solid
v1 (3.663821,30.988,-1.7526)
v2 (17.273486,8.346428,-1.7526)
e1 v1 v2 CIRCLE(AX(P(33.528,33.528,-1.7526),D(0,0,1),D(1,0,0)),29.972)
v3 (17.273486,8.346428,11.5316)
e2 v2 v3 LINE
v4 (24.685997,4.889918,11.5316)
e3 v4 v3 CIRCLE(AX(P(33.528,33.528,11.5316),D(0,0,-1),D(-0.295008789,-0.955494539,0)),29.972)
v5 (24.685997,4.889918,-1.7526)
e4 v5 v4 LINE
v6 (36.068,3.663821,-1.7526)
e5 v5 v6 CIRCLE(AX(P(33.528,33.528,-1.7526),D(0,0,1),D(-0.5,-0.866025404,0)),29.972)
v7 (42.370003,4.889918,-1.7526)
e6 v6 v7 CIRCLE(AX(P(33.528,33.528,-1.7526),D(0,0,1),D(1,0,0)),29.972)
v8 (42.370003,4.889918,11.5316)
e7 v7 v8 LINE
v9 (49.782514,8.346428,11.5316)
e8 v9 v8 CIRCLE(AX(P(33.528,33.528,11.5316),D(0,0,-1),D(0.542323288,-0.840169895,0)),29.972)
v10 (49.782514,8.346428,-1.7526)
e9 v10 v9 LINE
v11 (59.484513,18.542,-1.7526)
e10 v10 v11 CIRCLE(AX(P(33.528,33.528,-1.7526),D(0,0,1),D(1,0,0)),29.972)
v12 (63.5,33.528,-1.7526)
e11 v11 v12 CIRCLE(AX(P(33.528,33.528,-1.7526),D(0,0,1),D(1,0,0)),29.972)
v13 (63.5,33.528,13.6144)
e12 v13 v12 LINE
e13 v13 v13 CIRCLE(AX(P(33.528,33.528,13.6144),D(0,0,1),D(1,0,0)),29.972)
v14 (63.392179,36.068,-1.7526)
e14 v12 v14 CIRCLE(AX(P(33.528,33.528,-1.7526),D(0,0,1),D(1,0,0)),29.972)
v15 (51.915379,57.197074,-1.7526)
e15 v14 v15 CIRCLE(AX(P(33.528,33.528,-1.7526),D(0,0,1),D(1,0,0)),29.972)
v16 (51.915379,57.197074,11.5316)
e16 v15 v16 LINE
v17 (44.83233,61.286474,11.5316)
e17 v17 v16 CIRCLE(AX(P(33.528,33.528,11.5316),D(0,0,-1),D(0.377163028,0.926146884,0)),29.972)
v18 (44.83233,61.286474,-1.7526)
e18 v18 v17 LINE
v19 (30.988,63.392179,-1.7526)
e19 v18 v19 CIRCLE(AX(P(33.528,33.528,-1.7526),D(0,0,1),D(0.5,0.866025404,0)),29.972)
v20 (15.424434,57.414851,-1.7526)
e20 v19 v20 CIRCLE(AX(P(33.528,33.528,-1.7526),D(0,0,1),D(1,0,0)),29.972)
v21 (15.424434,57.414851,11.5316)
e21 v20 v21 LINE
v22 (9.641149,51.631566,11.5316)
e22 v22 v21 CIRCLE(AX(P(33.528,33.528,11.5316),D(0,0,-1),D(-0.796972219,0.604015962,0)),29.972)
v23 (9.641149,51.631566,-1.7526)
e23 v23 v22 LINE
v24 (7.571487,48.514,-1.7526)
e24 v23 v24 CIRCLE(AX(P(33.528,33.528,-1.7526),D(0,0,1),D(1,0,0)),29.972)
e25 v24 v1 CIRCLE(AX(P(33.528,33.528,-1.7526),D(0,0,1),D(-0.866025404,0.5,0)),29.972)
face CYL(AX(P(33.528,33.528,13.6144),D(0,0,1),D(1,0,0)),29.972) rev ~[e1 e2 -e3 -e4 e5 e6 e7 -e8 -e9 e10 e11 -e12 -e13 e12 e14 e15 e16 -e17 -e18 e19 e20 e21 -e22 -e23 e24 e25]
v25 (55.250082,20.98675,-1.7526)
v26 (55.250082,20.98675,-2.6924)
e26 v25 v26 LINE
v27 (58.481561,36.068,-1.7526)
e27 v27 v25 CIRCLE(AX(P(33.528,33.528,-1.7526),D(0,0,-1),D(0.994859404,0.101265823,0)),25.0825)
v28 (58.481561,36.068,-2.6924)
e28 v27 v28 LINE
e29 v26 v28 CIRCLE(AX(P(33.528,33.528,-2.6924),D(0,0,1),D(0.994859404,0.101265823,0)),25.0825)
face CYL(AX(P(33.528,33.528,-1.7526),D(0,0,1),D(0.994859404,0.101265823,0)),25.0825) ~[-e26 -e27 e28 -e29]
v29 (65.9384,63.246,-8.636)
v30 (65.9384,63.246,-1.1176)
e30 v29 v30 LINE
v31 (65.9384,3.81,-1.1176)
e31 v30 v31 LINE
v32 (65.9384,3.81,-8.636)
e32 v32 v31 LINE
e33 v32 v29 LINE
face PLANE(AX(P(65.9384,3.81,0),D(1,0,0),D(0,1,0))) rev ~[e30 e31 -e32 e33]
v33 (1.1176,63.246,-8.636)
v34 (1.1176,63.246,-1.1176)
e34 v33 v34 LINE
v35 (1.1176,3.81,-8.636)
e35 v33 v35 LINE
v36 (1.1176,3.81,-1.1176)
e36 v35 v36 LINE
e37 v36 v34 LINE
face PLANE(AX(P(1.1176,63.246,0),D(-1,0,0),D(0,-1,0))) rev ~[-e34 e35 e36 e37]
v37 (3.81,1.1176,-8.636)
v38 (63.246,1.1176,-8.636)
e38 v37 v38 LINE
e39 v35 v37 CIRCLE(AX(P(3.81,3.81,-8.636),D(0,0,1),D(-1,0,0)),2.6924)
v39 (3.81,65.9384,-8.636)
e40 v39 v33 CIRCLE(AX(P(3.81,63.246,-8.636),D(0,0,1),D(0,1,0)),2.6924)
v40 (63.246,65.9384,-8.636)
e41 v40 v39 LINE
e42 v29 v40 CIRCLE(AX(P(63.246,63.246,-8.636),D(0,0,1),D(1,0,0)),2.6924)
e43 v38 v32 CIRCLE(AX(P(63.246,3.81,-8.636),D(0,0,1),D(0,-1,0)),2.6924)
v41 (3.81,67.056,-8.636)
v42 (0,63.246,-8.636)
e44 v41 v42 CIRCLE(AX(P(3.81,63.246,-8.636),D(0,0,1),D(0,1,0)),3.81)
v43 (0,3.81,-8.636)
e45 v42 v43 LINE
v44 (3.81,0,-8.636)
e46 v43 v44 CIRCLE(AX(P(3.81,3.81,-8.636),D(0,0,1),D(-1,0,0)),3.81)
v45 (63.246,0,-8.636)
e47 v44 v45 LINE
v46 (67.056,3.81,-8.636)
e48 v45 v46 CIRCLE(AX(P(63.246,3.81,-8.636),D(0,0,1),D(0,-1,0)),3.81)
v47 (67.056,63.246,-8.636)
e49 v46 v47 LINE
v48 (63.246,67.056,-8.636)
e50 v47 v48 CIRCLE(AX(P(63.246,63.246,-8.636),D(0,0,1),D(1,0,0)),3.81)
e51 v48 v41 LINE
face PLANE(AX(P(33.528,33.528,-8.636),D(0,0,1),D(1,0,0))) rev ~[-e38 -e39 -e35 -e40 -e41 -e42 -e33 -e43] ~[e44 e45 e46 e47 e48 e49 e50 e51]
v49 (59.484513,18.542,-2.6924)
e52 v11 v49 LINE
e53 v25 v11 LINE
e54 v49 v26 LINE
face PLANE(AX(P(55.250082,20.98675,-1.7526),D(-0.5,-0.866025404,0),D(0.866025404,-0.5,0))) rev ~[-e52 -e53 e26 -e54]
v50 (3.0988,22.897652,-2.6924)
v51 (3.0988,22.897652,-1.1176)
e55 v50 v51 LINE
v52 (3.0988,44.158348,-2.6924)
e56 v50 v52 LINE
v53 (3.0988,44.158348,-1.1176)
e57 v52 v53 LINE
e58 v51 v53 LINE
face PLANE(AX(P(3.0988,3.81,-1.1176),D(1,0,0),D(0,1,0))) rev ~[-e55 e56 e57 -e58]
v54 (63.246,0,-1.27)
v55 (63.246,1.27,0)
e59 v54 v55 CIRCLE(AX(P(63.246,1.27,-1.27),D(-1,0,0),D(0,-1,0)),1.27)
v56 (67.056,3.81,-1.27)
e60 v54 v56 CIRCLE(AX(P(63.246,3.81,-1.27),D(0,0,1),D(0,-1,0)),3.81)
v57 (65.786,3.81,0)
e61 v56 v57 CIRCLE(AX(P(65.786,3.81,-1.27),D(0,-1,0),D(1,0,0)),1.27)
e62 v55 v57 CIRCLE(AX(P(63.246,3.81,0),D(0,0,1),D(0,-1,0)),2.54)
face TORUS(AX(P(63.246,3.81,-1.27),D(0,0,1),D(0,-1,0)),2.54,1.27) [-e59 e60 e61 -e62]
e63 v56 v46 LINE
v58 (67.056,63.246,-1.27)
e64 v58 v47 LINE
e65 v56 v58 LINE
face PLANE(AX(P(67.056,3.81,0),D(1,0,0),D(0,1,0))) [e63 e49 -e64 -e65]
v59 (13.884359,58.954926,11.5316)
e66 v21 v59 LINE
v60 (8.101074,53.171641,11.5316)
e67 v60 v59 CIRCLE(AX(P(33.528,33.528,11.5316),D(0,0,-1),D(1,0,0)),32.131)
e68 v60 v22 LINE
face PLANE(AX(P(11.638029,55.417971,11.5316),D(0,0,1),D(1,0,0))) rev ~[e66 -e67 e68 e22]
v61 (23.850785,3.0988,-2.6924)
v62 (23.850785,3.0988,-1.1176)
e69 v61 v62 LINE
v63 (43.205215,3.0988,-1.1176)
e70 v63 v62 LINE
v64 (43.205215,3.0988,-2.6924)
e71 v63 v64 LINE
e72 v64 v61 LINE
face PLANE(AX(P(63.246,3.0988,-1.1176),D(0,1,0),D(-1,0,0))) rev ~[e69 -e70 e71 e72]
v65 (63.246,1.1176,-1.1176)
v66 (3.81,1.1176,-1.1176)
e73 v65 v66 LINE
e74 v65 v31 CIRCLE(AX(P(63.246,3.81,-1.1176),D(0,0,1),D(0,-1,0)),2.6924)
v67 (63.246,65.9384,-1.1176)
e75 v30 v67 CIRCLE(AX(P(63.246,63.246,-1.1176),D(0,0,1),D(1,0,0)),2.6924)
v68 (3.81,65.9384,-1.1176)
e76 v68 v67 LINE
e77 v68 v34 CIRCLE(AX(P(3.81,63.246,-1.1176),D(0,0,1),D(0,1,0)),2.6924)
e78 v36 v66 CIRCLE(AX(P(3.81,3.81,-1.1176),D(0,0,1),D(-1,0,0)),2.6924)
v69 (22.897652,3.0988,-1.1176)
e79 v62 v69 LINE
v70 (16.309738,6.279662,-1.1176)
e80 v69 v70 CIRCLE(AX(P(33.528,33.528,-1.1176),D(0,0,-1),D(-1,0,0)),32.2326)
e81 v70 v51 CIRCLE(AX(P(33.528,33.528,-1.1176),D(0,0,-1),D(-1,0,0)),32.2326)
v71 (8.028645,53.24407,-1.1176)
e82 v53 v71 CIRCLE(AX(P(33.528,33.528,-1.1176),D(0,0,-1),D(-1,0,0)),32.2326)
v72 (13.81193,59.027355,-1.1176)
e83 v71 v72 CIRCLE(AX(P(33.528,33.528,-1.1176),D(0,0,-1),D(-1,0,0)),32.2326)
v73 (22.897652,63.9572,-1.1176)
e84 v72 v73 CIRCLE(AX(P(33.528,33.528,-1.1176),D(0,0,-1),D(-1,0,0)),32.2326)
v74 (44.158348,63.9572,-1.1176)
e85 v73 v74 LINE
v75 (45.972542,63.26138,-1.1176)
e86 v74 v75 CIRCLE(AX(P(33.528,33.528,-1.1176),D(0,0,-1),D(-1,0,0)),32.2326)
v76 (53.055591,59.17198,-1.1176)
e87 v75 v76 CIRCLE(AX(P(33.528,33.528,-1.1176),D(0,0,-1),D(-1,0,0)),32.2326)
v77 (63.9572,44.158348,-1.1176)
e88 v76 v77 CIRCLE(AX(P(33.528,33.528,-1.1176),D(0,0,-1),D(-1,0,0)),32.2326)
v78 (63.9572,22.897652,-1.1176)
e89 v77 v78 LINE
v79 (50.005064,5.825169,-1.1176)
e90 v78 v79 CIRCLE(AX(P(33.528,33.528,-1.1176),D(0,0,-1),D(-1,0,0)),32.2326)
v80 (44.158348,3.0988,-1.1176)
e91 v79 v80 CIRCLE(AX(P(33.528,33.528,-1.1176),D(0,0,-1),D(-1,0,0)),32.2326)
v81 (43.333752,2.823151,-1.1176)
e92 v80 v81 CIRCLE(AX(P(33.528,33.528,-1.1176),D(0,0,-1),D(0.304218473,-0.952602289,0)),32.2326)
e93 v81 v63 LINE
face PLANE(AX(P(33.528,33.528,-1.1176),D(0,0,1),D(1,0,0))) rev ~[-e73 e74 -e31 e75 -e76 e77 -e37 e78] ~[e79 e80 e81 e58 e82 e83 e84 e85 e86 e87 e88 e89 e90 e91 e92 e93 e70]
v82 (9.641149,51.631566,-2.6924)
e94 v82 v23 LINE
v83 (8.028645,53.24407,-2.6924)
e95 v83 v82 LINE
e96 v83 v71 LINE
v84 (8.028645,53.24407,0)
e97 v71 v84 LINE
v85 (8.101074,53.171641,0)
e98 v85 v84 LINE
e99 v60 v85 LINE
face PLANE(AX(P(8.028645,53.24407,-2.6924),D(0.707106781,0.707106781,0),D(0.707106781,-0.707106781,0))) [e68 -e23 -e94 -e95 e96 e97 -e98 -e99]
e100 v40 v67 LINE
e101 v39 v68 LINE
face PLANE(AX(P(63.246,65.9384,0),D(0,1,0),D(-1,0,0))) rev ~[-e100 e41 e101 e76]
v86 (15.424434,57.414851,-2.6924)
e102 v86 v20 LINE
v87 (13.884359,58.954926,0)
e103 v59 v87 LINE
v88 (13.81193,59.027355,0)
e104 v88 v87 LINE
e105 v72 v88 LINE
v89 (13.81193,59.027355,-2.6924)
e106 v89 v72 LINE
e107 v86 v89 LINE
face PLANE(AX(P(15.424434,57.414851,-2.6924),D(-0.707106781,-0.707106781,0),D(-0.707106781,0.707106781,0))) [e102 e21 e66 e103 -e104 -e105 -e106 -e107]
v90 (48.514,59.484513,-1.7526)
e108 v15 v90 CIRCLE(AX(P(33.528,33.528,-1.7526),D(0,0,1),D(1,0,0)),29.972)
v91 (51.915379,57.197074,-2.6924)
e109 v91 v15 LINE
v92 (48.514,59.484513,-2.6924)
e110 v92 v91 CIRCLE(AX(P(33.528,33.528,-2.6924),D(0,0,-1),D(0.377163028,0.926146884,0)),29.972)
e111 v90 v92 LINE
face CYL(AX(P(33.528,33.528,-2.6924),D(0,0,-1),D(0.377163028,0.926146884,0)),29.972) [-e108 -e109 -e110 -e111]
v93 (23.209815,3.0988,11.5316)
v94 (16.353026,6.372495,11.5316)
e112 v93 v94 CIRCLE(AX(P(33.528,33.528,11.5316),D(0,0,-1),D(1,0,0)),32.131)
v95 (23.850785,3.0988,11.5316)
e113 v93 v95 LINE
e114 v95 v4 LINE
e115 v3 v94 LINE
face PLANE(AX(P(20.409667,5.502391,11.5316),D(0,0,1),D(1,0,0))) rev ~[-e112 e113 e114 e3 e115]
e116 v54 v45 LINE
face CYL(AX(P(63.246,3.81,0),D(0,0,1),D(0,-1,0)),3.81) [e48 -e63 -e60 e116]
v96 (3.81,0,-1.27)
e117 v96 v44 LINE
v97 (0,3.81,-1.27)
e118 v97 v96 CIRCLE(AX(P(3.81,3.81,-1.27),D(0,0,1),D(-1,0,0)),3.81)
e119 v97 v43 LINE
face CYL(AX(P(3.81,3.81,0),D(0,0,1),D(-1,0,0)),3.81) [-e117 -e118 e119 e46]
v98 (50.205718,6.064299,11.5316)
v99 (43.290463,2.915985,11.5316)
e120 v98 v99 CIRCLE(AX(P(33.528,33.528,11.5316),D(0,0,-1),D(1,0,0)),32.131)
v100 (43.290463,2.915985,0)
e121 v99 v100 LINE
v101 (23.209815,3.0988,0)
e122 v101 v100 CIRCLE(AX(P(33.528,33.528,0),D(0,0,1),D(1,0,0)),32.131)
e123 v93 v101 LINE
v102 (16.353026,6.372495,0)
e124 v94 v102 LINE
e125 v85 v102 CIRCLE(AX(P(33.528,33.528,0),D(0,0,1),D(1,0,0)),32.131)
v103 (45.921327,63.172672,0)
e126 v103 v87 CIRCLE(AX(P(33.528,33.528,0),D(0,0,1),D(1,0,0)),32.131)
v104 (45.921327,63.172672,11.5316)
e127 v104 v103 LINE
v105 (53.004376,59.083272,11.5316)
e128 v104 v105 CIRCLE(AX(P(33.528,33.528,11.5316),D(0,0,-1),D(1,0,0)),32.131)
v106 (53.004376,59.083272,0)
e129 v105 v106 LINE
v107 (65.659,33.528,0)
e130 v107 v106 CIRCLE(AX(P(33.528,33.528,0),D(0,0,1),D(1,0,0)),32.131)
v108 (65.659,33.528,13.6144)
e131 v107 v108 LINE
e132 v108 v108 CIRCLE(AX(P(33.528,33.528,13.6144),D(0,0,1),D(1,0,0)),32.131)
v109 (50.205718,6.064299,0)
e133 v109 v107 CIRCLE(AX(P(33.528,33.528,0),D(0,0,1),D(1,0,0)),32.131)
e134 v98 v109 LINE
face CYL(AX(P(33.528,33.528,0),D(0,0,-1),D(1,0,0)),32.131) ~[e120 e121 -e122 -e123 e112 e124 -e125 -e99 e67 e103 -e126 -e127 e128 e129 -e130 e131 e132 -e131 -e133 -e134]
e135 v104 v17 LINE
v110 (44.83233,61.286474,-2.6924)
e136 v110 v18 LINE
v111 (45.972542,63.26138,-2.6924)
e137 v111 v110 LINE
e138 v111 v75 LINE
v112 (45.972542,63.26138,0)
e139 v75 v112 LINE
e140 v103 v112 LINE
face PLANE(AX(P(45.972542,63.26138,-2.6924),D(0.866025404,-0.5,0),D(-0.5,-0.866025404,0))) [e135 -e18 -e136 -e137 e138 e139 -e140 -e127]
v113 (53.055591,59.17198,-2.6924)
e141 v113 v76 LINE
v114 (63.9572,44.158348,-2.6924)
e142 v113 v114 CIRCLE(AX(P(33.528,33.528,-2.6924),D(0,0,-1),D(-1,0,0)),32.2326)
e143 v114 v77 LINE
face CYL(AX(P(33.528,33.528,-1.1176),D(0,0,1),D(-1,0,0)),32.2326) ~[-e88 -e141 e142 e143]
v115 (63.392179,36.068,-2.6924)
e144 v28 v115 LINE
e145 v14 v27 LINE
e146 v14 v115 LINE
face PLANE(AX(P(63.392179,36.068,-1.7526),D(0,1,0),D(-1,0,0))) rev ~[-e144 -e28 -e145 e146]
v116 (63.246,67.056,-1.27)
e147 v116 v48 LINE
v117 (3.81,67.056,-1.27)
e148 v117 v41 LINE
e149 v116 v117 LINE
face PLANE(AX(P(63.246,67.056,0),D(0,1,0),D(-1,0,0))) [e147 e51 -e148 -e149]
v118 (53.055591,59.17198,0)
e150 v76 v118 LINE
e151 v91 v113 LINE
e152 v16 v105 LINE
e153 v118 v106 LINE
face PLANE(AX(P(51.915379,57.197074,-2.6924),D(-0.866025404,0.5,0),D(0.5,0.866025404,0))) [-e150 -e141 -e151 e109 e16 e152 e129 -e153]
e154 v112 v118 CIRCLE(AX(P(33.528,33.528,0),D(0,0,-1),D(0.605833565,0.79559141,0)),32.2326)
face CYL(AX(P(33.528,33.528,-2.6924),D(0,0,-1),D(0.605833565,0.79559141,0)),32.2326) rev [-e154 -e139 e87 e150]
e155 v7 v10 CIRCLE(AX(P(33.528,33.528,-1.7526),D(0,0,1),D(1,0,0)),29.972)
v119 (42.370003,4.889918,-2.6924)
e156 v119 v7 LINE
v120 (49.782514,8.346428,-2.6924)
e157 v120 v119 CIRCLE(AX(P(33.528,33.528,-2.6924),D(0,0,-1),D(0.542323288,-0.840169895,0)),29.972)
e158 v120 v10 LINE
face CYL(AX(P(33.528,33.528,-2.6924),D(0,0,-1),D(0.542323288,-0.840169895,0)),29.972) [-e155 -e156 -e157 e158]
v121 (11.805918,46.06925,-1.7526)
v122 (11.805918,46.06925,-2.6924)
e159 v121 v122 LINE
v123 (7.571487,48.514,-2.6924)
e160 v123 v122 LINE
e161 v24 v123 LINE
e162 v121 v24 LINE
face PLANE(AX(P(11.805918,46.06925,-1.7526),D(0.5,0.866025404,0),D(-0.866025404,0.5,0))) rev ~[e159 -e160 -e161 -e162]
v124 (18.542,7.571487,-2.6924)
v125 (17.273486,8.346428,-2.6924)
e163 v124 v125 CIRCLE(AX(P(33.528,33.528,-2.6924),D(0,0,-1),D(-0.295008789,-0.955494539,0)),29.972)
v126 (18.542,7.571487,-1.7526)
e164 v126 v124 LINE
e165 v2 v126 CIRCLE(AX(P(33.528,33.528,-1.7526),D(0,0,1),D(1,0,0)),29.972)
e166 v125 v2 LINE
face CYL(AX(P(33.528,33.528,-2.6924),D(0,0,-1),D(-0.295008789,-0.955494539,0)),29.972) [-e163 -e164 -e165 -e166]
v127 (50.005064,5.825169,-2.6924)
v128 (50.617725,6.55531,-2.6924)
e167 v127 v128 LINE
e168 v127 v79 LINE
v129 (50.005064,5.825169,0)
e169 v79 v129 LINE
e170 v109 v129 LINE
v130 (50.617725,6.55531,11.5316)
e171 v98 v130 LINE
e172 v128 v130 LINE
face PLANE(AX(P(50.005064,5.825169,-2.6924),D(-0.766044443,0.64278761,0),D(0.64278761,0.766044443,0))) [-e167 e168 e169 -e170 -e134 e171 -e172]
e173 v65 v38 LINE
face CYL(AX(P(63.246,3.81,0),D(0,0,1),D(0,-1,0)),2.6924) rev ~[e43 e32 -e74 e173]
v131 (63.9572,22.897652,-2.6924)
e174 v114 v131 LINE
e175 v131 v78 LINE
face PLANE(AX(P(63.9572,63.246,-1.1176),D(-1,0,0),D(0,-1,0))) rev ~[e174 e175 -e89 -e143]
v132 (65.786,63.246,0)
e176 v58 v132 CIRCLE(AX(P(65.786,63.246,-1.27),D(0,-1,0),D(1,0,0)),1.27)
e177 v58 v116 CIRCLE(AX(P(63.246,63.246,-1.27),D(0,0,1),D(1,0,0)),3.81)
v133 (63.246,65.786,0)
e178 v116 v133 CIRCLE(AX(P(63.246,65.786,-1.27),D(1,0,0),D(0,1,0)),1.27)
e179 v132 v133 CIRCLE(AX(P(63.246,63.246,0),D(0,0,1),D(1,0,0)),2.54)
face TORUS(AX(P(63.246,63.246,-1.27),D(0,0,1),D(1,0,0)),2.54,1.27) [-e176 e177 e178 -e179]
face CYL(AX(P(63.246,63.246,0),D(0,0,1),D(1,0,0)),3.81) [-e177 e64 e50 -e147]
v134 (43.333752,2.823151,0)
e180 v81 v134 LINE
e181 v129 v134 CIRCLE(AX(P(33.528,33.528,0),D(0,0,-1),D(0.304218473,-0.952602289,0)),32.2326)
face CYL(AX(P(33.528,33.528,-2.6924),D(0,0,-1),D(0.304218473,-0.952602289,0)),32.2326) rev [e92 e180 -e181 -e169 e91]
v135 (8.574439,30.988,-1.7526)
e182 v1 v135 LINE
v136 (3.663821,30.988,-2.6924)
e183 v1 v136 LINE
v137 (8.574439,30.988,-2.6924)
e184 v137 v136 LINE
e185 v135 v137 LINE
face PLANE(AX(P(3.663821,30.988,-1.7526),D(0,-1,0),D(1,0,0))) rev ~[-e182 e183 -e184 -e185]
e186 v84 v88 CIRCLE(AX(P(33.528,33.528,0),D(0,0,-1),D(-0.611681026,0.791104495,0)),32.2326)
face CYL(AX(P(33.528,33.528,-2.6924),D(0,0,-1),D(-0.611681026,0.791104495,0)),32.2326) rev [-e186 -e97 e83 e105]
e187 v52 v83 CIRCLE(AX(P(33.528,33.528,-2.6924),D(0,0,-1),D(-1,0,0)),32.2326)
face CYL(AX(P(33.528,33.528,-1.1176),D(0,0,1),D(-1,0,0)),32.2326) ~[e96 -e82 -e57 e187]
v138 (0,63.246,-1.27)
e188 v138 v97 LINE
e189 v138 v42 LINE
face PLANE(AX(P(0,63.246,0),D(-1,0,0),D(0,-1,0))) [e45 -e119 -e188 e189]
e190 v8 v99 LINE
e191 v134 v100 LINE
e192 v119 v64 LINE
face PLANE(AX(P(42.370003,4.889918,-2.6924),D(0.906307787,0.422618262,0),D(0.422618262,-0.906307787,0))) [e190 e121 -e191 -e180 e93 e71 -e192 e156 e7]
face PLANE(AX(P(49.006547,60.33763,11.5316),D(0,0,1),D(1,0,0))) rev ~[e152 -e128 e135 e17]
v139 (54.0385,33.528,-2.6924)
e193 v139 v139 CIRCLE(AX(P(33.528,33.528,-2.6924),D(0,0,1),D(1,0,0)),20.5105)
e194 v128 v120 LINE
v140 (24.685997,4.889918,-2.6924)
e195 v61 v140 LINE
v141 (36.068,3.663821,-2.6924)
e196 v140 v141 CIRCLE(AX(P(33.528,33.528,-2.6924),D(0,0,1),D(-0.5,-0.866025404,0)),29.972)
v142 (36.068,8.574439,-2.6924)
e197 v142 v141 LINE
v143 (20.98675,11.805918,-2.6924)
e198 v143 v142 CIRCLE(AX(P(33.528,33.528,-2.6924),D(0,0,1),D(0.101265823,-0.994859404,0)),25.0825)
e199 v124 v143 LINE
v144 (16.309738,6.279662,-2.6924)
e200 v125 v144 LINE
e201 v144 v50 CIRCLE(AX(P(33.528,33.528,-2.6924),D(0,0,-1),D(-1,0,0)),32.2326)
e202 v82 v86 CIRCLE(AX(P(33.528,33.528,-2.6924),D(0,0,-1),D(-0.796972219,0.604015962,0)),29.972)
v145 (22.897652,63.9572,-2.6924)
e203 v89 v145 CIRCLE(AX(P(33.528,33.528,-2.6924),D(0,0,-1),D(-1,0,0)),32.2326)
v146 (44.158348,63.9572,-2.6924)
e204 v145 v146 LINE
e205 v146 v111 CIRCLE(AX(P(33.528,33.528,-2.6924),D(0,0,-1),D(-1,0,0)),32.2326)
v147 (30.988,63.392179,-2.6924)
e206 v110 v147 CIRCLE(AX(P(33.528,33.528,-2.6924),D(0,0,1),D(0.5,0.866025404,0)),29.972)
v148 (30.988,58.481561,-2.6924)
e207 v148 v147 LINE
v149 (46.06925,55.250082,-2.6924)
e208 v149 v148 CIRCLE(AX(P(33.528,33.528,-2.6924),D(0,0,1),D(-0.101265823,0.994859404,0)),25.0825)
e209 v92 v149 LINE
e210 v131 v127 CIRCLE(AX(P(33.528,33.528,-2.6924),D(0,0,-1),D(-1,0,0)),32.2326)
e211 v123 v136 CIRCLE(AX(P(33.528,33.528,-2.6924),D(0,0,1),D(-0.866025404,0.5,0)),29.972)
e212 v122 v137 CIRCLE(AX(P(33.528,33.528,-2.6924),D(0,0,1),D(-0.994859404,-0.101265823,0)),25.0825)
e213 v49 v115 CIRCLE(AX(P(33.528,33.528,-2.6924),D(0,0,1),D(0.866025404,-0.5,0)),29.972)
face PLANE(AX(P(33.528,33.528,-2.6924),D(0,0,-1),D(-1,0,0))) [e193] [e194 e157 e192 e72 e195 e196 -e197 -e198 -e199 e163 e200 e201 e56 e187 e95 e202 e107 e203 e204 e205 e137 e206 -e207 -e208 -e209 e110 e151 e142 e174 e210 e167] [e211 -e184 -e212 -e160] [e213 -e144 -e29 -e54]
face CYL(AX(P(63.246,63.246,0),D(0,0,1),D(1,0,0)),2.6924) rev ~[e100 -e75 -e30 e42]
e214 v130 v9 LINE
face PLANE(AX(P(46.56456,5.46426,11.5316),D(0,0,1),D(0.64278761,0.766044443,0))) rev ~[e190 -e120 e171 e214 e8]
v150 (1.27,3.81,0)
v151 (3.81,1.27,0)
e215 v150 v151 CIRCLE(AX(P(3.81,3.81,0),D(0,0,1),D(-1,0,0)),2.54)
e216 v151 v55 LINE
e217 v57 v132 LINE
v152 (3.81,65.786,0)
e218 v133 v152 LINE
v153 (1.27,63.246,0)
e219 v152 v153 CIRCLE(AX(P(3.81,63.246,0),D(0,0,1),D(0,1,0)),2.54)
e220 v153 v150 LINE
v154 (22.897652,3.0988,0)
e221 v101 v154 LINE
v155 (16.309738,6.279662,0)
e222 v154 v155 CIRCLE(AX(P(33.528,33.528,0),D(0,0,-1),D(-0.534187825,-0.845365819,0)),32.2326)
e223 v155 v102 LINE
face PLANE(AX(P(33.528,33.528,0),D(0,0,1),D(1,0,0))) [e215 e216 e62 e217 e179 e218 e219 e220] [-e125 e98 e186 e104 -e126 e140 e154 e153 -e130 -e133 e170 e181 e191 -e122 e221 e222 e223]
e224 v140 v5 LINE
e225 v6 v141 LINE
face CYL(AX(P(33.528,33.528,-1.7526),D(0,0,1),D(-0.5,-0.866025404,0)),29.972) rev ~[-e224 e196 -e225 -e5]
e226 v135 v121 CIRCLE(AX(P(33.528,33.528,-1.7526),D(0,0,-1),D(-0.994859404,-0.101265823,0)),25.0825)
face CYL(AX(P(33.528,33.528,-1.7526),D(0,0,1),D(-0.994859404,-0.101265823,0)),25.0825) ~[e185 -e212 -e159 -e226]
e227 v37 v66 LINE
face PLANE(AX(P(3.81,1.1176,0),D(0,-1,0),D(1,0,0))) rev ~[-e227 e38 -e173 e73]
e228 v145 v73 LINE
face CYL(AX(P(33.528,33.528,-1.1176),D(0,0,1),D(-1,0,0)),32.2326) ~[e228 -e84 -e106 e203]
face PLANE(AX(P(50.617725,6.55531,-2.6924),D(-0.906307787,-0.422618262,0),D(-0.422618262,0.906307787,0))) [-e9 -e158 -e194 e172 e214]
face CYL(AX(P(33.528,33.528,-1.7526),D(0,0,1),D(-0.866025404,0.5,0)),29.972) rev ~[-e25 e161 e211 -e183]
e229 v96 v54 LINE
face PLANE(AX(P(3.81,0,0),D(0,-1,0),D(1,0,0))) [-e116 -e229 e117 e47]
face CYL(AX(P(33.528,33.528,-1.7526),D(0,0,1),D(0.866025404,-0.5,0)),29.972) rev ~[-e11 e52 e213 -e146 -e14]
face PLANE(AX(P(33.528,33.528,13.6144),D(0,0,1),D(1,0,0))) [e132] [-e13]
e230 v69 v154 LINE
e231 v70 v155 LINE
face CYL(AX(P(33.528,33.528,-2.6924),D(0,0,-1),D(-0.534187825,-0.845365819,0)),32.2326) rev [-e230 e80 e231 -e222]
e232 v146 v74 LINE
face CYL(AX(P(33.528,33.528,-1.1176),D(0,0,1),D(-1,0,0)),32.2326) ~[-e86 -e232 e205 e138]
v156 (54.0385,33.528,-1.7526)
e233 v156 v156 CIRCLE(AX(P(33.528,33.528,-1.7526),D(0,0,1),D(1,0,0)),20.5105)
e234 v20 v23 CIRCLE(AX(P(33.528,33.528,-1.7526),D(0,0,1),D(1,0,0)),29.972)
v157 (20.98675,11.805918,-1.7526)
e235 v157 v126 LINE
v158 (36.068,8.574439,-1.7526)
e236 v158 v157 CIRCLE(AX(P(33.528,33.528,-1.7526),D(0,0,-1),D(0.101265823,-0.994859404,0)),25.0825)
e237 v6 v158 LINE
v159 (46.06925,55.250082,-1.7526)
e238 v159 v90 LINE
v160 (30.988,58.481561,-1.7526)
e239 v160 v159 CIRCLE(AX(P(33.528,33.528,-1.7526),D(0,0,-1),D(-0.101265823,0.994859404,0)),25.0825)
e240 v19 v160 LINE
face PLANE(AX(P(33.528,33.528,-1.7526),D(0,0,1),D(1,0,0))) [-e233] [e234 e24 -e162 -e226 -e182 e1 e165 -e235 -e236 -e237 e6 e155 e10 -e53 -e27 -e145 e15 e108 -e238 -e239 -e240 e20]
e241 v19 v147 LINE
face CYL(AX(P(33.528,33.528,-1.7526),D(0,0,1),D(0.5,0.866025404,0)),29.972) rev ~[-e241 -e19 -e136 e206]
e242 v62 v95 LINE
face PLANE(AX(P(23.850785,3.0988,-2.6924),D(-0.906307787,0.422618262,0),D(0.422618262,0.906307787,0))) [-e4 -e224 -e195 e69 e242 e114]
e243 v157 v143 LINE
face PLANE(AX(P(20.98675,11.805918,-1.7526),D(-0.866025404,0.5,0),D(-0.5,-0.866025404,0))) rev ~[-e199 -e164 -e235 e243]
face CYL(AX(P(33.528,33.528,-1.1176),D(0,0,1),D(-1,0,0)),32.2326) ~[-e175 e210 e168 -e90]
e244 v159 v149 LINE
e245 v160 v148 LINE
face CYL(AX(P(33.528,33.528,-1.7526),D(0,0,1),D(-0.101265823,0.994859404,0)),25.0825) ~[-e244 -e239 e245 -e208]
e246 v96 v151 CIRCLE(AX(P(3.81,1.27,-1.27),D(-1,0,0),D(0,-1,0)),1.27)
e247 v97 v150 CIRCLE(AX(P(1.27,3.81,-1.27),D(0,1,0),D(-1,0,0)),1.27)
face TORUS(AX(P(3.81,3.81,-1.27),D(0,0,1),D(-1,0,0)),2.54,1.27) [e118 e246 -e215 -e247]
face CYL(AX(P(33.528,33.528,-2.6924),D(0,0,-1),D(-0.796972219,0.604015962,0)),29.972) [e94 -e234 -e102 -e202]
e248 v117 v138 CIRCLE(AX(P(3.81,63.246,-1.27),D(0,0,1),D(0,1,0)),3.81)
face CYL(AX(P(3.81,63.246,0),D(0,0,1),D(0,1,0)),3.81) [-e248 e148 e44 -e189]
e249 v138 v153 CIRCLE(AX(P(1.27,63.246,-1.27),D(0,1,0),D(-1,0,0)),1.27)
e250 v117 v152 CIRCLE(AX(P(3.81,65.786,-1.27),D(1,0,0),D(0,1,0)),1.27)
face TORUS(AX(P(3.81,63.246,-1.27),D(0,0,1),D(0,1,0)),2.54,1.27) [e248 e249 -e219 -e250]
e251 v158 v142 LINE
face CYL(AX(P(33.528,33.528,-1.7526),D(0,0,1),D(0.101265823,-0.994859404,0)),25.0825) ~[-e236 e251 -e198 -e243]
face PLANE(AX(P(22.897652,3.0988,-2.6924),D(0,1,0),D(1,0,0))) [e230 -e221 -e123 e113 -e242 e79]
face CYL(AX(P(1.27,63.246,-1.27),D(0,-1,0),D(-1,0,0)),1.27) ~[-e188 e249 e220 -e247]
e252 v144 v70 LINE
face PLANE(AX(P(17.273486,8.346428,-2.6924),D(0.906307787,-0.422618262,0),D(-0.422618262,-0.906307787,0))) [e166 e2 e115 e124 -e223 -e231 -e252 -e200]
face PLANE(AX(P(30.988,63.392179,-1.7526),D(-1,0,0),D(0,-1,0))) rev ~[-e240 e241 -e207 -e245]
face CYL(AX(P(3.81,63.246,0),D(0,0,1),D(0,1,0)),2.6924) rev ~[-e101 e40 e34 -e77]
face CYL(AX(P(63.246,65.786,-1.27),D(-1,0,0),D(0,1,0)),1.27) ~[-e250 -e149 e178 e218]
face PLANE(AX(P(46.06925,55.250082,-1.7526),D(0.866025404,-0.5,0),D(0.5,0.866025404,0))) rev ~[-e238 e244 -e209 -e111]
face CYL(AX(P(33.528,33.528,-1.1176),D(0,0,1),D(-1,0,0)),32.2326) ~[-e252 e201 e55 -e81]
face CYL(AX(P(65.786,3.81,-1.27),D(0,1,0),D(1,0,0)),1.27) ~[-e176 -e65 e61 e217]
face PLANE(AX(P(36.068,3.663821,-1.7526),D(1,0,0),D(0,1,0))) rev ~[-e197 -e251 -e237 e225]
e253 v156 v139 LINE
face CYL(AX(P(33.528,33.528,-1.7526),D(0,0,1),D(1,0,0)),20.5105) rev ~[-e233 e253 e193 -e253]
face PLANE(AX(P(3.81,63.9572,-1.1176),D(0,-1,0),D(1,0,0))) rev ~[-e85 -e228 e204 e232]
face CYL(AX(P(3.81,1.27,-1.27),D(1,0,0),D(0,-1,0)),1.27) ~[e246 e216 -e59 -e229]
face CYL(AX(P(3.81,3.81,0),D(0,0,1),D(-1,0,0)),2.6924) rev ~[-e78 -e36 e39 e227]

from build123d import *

# Parameters (mm, degrees)
BASE_EXTRUDE_DEPTH  = 8.636
SHELL1_T            = -1.1176
SKETCH2_R           = 32.131
BOSS_EXTRUDE1_DEPTH = 13.6144
SKETCH3_R           = 32.2326
BOSS_EXTRUDE2_DEPTH = 1.5748
CUT_EXTRUDE2_START  = -1.5748
CUT_EXTRUDE2_DEPTH  = 1.5748
SKETCH5_R           = 29.972
CUT_EXTRUDE3_DEPTH  = 15.367
SKETCH6_R           = 20.5105
CUT_EXTRUDE4_DEPTH  = 7.8834
CUT_EXTRUDE5_DEPTH  = 7.8834
CIRPATTERN1_COUNT   = 4
CUT_EXTRUDE6_DEPTH  = 14.224
CUT_EXTRUDE7_DEPTH  = 14.224
CUT_EXTRUDE8_DEPTH  = 14.224
CIRPATTERN2_COUNT   = 2
CIRPATTERN2_ANGLE   = 310
FILLET1_R           = 1.27


with BuildPart() as part:
    # Sketch1 → Base-Extrude (new body)
    with BuildSketch(Plane.XY):
        with BuildLine():
            Line((3.81, 0), (63.246, 0))
            ThreePointArc((63.246, 0), (65.940076836, 1.115923164), (67.056, 3.81))
            Line((67.056, 3.81), (67.056, 63.246))
            ThreePointArc((67.056, 63.246), (65.940076836, 65.940076836), (63.246, 67.056))
            Line((63.246, 67.056), (3.81, 67.056))
            ThreePointArc((3.81, 67.056), (1.115923164, 65.940076836), (0, 63.246))
            Line((0, 63.246), (0, 3.81))
            ThreePointArc((0, 3.81), (1.115923164, 1.115923164), (3.81, 0))
        make_face()
    extrude(amount=-BASE_EXTRUDE_DEPTH)

    # Shell1
    shell1_openings = [part.faces().sort_by_distance(p)[0] for p in [
        (33.528, 33.528, -8.636),
    ]]
    offset(amount=SHELL1_T, openings=shell1_openings, kind=Kind.INTERSECTION)

    # Sketch2 → Boss-Extrude1 (add)
    with BuildSketch(Plane.XY):
        with Locations((33.528, 33.528)):
            Circle(SKETCH2_R)
    extrude(amount=BOSS_EXTRUDE1_DEPTH)

    # Sketch3 → Boss-Extrude2 (add)
    with BuildSketch(Plane(origin=(0, 0, -1.1176), x_dir=(-1, 0, 0), z_dir=(0, 0, -1))):
        with Locations((-33.528, 33.528)):
            Circle(SKETCH3_R)
    extrude(amount=BOSS_EXTRUDE2_DEPTH)

    # Sketch4 → Cut-Extrude2 (cut)
    with BuildSketch(Plane(origin=(0, 0, -2.6924), x_dir=(-1, 0, 0), z_dir=(0, 0, -1)).offset(CUT_EXTRUDE2_START)):
        with BuildLine():
            Line((-63.246, 65.9384), (-3.81, 65.9384))
            ThreePointArc((-3.81, 65.9384), (-1.906185702, 65.149814298), (-1.1176, 63.246))
            Line((-1.1176, 63.246), (-1.1176, 3.81))
            ThreePointArc((-1.1176, 3.81), (-1.906185702, 1.906185702), (-3.81, 1.1176))
            Line((-3.81, 1.1176), (-63.246, 1.1176))
            ThreePointArc((-63.246, 1.1176), (-65.149814298, 1.906185702), (-65.9384, 3.81))
            Line((-65.9384, 3.81), (-65.9384, 63.246))
            ThreePointArc((-65.9384, 63.246), (-65.149814298, 65.149814298), (-63.246, 65.9384))
        make_face()
        with BuildLine():
            Line((-3.81, 63.9572), (-63.246, 63.9572))
            ThreePointArc((-63.246, 63.9572), (-63.748894343, 63.748894343), (-63.9572, 63.246))
            Line((-63.9572, 63.246), (-63.9572, 3.81))
            ThreePointArc((-63.9572, 3.81), (-63.748894343, 3.307105657), (-63.246, 3.0988))
            Line((-63.246, 3.0988), (-3.81, 3.0988))
            ThreePointArc((-3.81, 3.0988), (-3.307105657, 3.307105657), (-3.0988, 3.81))
            Line((-3.0988, 3.81), (-3.0988, 63.246))
            ThreePointArc((-3.0988, 63.246), (-3.307105657, 63.748894343), (-3.81, 63.9572))
        make_face(mode=Mode.SUBTRACT)
    extrude(amount=CUT_EXTRUDE2_DEPTH, mode=Mode.SUBTRACT)

    # Sketch5 → Cut-Extrude3 (cut)
    with BuildSketch(Plane.XY.offset(13.6144)):
        with Locations((33.528, 33.528)):
            Circle(SKETCH5_R)
    extrude(amount=-CUT_EXTRUDE3_DEPTH, mode=Mode.SUBTRACT)

    # Sketch6 → Cut-Extrude4 (cut, through all)
    with BuildSketch(Plane.XY.offset(-1.7526)):
        with Locations((33.528, 33.528)):
            Circle(SKETCH6_R)
    extrude(amount=-CUT_EXTRUDE4_DEPTH, mode=Mode.SUBTRACT)

    # Sketch7 → Cut-Extrude5 (cut, through all)
    with BuildSketch(Plane.XY.offset(-1.7526)):
        with BuildLine():
            Line((30.988, 63.392178944), (30.988, 58.481560993))
            ThreePointArc((30.988, 58.481560993), (38.783174993, 58.053801558), (46.06925, 55.25008219))
            Line((46.06925, 55.25008219), (48.514, 59.484513402))
            ThreePointArc((48.514, 59.484513402), (40.050514201, 62.781676564), (30.988, 63.392178944))
        make_face()
    cut_extrude5 = extrude(amount=-CUT_EXTRUDE5_DEPTH, mode=Mode.SUBTRACT)

    # CirPattern1: Cut-Extrude5 ×4 about axis
    cirpattern1_axis = Axis((33.528, 33.528, 0), (0, 0, 1))
    for i in range(1, CIRPATTERN1_COUNT):
        add(cut_extrude5.rotate(cirpattern1_axis, i * 360 / CIRPATTERN1_COUNT), mode=Mode.SUBTRACT)

    # Sketch8 → Cut-Extrude6 (cut)
    with BuildSketch(Plane(origin=(0, 0, -2.6924), x_dir=(-1, 0, 0), z_dir=(0, 0, -1))):
        with BuildLine():
            Line((-45.972542384, 63.261379687), (-44.832330284, 61.286474397))
            ThreePointArc((-44.832330284, 61.286474397), (-48.514, 59.484513402), (-51.915378856, 57.197074397))
            Line((-51.915378856, 57.197074397), (-53.055590957, 59.171979687))
            ThreePointArc((-53.055590957, 59.171979687), (-49.6443, 61.44225043), (-45.972542384, 63.261379687))
        make_face()
    extrude(amount=-CUT_EXTRUDE6_DEPTH, mode=Mode.SUBTRACT)

    # Sketch9 → Cut-Extrude7 (cut)
    with BuildSketch(Plane(origin=(0, 0, -2.6924), x_dir=(-1, 0, 0), z_dir=(0, 0, -1))):
        with BuildLine():
            Line((-8.028645234, 53.244069824), (-9.641148651, 51.631566407))
            ThreePointArc((-9.641148651, 51.631566407), (-12.334595554, 54.721404446), (-15.424433593, 57.414851349))
            Line((-15.424433593, 57.414851349), (-13.811930176, 59.027354766))
            ThreePointArc((-13.811930176, 59.027354766), (-10.736109965, 56.319890035), (-8.028645234, 53.244069824))
        make_face()
    extrude(amount=-CUT_EXTRUDE7_DEPTH, mode=Mode.SUBTRACT)

    # Sketch10 → Cut-Extrude8 (cut)
    with BuildSketch(Plane(origin=(0, 0, -2.6924), x_dir=(-1, 0, 0), z_dir=(0, 0, -1))):
        with BuildLine():
            Line((-17.273486431, 8.346427916), (-16.309737519, 6.279661704))
            ThreePointArc((-16.309737519, 6.279661704), (-19.513159966, 4.501722912), (-22.897652399, 3.0988))
            Line((-22.897652399, 3.0988), (-23.85078467, 3.0988))
            Line((-23.85078467, 3.0988), (-24.68599656, 4.889917677))
            ThreePointArc((-24.68599656, 4.889917677), (-20.861285459, 6.364143007), (-17.273486431, 8.346427916))
        make_face()
    cut_extrude8 = extrude(amount=-CUT_EXTRUDE8_DEPTH, mode=Mode.SUBTRACT)

    # CirPattern2: Cut-Extrude8 ×2 about axis
    cirpattern2_axis = Axis((33.528, 33.528, 0), (0, 0, -1))
    for i in range(1, CIRPATTERN2_COUNT):
        add(cut_extrude8.rotate(cirpattern2_axis, i * CIRPATTERN2_ANGLE / (CIRPATTERN2_COUNT - 1)), mode=Mode.SUBTRACT)

    # Fillet1
    fillet1_edges = [part.edges().sort_by_distance(p)[0] for p in [
        (33.528, 0, 0),
        (1.115923164, 1.115923164, 0),
        (0, 33.528, 0),
        (1.115923164, 65.940076836, 0),
        (33.528, 67.056, 0),
        (65.940076836, 65.940076836, 0),
        (67.056, 33.528, 0),
        (65.940076836, 1.115923164, 0),
    ]]
    fillet(fillet1_edges, radius=FILLET1_R)


solid = part.part
